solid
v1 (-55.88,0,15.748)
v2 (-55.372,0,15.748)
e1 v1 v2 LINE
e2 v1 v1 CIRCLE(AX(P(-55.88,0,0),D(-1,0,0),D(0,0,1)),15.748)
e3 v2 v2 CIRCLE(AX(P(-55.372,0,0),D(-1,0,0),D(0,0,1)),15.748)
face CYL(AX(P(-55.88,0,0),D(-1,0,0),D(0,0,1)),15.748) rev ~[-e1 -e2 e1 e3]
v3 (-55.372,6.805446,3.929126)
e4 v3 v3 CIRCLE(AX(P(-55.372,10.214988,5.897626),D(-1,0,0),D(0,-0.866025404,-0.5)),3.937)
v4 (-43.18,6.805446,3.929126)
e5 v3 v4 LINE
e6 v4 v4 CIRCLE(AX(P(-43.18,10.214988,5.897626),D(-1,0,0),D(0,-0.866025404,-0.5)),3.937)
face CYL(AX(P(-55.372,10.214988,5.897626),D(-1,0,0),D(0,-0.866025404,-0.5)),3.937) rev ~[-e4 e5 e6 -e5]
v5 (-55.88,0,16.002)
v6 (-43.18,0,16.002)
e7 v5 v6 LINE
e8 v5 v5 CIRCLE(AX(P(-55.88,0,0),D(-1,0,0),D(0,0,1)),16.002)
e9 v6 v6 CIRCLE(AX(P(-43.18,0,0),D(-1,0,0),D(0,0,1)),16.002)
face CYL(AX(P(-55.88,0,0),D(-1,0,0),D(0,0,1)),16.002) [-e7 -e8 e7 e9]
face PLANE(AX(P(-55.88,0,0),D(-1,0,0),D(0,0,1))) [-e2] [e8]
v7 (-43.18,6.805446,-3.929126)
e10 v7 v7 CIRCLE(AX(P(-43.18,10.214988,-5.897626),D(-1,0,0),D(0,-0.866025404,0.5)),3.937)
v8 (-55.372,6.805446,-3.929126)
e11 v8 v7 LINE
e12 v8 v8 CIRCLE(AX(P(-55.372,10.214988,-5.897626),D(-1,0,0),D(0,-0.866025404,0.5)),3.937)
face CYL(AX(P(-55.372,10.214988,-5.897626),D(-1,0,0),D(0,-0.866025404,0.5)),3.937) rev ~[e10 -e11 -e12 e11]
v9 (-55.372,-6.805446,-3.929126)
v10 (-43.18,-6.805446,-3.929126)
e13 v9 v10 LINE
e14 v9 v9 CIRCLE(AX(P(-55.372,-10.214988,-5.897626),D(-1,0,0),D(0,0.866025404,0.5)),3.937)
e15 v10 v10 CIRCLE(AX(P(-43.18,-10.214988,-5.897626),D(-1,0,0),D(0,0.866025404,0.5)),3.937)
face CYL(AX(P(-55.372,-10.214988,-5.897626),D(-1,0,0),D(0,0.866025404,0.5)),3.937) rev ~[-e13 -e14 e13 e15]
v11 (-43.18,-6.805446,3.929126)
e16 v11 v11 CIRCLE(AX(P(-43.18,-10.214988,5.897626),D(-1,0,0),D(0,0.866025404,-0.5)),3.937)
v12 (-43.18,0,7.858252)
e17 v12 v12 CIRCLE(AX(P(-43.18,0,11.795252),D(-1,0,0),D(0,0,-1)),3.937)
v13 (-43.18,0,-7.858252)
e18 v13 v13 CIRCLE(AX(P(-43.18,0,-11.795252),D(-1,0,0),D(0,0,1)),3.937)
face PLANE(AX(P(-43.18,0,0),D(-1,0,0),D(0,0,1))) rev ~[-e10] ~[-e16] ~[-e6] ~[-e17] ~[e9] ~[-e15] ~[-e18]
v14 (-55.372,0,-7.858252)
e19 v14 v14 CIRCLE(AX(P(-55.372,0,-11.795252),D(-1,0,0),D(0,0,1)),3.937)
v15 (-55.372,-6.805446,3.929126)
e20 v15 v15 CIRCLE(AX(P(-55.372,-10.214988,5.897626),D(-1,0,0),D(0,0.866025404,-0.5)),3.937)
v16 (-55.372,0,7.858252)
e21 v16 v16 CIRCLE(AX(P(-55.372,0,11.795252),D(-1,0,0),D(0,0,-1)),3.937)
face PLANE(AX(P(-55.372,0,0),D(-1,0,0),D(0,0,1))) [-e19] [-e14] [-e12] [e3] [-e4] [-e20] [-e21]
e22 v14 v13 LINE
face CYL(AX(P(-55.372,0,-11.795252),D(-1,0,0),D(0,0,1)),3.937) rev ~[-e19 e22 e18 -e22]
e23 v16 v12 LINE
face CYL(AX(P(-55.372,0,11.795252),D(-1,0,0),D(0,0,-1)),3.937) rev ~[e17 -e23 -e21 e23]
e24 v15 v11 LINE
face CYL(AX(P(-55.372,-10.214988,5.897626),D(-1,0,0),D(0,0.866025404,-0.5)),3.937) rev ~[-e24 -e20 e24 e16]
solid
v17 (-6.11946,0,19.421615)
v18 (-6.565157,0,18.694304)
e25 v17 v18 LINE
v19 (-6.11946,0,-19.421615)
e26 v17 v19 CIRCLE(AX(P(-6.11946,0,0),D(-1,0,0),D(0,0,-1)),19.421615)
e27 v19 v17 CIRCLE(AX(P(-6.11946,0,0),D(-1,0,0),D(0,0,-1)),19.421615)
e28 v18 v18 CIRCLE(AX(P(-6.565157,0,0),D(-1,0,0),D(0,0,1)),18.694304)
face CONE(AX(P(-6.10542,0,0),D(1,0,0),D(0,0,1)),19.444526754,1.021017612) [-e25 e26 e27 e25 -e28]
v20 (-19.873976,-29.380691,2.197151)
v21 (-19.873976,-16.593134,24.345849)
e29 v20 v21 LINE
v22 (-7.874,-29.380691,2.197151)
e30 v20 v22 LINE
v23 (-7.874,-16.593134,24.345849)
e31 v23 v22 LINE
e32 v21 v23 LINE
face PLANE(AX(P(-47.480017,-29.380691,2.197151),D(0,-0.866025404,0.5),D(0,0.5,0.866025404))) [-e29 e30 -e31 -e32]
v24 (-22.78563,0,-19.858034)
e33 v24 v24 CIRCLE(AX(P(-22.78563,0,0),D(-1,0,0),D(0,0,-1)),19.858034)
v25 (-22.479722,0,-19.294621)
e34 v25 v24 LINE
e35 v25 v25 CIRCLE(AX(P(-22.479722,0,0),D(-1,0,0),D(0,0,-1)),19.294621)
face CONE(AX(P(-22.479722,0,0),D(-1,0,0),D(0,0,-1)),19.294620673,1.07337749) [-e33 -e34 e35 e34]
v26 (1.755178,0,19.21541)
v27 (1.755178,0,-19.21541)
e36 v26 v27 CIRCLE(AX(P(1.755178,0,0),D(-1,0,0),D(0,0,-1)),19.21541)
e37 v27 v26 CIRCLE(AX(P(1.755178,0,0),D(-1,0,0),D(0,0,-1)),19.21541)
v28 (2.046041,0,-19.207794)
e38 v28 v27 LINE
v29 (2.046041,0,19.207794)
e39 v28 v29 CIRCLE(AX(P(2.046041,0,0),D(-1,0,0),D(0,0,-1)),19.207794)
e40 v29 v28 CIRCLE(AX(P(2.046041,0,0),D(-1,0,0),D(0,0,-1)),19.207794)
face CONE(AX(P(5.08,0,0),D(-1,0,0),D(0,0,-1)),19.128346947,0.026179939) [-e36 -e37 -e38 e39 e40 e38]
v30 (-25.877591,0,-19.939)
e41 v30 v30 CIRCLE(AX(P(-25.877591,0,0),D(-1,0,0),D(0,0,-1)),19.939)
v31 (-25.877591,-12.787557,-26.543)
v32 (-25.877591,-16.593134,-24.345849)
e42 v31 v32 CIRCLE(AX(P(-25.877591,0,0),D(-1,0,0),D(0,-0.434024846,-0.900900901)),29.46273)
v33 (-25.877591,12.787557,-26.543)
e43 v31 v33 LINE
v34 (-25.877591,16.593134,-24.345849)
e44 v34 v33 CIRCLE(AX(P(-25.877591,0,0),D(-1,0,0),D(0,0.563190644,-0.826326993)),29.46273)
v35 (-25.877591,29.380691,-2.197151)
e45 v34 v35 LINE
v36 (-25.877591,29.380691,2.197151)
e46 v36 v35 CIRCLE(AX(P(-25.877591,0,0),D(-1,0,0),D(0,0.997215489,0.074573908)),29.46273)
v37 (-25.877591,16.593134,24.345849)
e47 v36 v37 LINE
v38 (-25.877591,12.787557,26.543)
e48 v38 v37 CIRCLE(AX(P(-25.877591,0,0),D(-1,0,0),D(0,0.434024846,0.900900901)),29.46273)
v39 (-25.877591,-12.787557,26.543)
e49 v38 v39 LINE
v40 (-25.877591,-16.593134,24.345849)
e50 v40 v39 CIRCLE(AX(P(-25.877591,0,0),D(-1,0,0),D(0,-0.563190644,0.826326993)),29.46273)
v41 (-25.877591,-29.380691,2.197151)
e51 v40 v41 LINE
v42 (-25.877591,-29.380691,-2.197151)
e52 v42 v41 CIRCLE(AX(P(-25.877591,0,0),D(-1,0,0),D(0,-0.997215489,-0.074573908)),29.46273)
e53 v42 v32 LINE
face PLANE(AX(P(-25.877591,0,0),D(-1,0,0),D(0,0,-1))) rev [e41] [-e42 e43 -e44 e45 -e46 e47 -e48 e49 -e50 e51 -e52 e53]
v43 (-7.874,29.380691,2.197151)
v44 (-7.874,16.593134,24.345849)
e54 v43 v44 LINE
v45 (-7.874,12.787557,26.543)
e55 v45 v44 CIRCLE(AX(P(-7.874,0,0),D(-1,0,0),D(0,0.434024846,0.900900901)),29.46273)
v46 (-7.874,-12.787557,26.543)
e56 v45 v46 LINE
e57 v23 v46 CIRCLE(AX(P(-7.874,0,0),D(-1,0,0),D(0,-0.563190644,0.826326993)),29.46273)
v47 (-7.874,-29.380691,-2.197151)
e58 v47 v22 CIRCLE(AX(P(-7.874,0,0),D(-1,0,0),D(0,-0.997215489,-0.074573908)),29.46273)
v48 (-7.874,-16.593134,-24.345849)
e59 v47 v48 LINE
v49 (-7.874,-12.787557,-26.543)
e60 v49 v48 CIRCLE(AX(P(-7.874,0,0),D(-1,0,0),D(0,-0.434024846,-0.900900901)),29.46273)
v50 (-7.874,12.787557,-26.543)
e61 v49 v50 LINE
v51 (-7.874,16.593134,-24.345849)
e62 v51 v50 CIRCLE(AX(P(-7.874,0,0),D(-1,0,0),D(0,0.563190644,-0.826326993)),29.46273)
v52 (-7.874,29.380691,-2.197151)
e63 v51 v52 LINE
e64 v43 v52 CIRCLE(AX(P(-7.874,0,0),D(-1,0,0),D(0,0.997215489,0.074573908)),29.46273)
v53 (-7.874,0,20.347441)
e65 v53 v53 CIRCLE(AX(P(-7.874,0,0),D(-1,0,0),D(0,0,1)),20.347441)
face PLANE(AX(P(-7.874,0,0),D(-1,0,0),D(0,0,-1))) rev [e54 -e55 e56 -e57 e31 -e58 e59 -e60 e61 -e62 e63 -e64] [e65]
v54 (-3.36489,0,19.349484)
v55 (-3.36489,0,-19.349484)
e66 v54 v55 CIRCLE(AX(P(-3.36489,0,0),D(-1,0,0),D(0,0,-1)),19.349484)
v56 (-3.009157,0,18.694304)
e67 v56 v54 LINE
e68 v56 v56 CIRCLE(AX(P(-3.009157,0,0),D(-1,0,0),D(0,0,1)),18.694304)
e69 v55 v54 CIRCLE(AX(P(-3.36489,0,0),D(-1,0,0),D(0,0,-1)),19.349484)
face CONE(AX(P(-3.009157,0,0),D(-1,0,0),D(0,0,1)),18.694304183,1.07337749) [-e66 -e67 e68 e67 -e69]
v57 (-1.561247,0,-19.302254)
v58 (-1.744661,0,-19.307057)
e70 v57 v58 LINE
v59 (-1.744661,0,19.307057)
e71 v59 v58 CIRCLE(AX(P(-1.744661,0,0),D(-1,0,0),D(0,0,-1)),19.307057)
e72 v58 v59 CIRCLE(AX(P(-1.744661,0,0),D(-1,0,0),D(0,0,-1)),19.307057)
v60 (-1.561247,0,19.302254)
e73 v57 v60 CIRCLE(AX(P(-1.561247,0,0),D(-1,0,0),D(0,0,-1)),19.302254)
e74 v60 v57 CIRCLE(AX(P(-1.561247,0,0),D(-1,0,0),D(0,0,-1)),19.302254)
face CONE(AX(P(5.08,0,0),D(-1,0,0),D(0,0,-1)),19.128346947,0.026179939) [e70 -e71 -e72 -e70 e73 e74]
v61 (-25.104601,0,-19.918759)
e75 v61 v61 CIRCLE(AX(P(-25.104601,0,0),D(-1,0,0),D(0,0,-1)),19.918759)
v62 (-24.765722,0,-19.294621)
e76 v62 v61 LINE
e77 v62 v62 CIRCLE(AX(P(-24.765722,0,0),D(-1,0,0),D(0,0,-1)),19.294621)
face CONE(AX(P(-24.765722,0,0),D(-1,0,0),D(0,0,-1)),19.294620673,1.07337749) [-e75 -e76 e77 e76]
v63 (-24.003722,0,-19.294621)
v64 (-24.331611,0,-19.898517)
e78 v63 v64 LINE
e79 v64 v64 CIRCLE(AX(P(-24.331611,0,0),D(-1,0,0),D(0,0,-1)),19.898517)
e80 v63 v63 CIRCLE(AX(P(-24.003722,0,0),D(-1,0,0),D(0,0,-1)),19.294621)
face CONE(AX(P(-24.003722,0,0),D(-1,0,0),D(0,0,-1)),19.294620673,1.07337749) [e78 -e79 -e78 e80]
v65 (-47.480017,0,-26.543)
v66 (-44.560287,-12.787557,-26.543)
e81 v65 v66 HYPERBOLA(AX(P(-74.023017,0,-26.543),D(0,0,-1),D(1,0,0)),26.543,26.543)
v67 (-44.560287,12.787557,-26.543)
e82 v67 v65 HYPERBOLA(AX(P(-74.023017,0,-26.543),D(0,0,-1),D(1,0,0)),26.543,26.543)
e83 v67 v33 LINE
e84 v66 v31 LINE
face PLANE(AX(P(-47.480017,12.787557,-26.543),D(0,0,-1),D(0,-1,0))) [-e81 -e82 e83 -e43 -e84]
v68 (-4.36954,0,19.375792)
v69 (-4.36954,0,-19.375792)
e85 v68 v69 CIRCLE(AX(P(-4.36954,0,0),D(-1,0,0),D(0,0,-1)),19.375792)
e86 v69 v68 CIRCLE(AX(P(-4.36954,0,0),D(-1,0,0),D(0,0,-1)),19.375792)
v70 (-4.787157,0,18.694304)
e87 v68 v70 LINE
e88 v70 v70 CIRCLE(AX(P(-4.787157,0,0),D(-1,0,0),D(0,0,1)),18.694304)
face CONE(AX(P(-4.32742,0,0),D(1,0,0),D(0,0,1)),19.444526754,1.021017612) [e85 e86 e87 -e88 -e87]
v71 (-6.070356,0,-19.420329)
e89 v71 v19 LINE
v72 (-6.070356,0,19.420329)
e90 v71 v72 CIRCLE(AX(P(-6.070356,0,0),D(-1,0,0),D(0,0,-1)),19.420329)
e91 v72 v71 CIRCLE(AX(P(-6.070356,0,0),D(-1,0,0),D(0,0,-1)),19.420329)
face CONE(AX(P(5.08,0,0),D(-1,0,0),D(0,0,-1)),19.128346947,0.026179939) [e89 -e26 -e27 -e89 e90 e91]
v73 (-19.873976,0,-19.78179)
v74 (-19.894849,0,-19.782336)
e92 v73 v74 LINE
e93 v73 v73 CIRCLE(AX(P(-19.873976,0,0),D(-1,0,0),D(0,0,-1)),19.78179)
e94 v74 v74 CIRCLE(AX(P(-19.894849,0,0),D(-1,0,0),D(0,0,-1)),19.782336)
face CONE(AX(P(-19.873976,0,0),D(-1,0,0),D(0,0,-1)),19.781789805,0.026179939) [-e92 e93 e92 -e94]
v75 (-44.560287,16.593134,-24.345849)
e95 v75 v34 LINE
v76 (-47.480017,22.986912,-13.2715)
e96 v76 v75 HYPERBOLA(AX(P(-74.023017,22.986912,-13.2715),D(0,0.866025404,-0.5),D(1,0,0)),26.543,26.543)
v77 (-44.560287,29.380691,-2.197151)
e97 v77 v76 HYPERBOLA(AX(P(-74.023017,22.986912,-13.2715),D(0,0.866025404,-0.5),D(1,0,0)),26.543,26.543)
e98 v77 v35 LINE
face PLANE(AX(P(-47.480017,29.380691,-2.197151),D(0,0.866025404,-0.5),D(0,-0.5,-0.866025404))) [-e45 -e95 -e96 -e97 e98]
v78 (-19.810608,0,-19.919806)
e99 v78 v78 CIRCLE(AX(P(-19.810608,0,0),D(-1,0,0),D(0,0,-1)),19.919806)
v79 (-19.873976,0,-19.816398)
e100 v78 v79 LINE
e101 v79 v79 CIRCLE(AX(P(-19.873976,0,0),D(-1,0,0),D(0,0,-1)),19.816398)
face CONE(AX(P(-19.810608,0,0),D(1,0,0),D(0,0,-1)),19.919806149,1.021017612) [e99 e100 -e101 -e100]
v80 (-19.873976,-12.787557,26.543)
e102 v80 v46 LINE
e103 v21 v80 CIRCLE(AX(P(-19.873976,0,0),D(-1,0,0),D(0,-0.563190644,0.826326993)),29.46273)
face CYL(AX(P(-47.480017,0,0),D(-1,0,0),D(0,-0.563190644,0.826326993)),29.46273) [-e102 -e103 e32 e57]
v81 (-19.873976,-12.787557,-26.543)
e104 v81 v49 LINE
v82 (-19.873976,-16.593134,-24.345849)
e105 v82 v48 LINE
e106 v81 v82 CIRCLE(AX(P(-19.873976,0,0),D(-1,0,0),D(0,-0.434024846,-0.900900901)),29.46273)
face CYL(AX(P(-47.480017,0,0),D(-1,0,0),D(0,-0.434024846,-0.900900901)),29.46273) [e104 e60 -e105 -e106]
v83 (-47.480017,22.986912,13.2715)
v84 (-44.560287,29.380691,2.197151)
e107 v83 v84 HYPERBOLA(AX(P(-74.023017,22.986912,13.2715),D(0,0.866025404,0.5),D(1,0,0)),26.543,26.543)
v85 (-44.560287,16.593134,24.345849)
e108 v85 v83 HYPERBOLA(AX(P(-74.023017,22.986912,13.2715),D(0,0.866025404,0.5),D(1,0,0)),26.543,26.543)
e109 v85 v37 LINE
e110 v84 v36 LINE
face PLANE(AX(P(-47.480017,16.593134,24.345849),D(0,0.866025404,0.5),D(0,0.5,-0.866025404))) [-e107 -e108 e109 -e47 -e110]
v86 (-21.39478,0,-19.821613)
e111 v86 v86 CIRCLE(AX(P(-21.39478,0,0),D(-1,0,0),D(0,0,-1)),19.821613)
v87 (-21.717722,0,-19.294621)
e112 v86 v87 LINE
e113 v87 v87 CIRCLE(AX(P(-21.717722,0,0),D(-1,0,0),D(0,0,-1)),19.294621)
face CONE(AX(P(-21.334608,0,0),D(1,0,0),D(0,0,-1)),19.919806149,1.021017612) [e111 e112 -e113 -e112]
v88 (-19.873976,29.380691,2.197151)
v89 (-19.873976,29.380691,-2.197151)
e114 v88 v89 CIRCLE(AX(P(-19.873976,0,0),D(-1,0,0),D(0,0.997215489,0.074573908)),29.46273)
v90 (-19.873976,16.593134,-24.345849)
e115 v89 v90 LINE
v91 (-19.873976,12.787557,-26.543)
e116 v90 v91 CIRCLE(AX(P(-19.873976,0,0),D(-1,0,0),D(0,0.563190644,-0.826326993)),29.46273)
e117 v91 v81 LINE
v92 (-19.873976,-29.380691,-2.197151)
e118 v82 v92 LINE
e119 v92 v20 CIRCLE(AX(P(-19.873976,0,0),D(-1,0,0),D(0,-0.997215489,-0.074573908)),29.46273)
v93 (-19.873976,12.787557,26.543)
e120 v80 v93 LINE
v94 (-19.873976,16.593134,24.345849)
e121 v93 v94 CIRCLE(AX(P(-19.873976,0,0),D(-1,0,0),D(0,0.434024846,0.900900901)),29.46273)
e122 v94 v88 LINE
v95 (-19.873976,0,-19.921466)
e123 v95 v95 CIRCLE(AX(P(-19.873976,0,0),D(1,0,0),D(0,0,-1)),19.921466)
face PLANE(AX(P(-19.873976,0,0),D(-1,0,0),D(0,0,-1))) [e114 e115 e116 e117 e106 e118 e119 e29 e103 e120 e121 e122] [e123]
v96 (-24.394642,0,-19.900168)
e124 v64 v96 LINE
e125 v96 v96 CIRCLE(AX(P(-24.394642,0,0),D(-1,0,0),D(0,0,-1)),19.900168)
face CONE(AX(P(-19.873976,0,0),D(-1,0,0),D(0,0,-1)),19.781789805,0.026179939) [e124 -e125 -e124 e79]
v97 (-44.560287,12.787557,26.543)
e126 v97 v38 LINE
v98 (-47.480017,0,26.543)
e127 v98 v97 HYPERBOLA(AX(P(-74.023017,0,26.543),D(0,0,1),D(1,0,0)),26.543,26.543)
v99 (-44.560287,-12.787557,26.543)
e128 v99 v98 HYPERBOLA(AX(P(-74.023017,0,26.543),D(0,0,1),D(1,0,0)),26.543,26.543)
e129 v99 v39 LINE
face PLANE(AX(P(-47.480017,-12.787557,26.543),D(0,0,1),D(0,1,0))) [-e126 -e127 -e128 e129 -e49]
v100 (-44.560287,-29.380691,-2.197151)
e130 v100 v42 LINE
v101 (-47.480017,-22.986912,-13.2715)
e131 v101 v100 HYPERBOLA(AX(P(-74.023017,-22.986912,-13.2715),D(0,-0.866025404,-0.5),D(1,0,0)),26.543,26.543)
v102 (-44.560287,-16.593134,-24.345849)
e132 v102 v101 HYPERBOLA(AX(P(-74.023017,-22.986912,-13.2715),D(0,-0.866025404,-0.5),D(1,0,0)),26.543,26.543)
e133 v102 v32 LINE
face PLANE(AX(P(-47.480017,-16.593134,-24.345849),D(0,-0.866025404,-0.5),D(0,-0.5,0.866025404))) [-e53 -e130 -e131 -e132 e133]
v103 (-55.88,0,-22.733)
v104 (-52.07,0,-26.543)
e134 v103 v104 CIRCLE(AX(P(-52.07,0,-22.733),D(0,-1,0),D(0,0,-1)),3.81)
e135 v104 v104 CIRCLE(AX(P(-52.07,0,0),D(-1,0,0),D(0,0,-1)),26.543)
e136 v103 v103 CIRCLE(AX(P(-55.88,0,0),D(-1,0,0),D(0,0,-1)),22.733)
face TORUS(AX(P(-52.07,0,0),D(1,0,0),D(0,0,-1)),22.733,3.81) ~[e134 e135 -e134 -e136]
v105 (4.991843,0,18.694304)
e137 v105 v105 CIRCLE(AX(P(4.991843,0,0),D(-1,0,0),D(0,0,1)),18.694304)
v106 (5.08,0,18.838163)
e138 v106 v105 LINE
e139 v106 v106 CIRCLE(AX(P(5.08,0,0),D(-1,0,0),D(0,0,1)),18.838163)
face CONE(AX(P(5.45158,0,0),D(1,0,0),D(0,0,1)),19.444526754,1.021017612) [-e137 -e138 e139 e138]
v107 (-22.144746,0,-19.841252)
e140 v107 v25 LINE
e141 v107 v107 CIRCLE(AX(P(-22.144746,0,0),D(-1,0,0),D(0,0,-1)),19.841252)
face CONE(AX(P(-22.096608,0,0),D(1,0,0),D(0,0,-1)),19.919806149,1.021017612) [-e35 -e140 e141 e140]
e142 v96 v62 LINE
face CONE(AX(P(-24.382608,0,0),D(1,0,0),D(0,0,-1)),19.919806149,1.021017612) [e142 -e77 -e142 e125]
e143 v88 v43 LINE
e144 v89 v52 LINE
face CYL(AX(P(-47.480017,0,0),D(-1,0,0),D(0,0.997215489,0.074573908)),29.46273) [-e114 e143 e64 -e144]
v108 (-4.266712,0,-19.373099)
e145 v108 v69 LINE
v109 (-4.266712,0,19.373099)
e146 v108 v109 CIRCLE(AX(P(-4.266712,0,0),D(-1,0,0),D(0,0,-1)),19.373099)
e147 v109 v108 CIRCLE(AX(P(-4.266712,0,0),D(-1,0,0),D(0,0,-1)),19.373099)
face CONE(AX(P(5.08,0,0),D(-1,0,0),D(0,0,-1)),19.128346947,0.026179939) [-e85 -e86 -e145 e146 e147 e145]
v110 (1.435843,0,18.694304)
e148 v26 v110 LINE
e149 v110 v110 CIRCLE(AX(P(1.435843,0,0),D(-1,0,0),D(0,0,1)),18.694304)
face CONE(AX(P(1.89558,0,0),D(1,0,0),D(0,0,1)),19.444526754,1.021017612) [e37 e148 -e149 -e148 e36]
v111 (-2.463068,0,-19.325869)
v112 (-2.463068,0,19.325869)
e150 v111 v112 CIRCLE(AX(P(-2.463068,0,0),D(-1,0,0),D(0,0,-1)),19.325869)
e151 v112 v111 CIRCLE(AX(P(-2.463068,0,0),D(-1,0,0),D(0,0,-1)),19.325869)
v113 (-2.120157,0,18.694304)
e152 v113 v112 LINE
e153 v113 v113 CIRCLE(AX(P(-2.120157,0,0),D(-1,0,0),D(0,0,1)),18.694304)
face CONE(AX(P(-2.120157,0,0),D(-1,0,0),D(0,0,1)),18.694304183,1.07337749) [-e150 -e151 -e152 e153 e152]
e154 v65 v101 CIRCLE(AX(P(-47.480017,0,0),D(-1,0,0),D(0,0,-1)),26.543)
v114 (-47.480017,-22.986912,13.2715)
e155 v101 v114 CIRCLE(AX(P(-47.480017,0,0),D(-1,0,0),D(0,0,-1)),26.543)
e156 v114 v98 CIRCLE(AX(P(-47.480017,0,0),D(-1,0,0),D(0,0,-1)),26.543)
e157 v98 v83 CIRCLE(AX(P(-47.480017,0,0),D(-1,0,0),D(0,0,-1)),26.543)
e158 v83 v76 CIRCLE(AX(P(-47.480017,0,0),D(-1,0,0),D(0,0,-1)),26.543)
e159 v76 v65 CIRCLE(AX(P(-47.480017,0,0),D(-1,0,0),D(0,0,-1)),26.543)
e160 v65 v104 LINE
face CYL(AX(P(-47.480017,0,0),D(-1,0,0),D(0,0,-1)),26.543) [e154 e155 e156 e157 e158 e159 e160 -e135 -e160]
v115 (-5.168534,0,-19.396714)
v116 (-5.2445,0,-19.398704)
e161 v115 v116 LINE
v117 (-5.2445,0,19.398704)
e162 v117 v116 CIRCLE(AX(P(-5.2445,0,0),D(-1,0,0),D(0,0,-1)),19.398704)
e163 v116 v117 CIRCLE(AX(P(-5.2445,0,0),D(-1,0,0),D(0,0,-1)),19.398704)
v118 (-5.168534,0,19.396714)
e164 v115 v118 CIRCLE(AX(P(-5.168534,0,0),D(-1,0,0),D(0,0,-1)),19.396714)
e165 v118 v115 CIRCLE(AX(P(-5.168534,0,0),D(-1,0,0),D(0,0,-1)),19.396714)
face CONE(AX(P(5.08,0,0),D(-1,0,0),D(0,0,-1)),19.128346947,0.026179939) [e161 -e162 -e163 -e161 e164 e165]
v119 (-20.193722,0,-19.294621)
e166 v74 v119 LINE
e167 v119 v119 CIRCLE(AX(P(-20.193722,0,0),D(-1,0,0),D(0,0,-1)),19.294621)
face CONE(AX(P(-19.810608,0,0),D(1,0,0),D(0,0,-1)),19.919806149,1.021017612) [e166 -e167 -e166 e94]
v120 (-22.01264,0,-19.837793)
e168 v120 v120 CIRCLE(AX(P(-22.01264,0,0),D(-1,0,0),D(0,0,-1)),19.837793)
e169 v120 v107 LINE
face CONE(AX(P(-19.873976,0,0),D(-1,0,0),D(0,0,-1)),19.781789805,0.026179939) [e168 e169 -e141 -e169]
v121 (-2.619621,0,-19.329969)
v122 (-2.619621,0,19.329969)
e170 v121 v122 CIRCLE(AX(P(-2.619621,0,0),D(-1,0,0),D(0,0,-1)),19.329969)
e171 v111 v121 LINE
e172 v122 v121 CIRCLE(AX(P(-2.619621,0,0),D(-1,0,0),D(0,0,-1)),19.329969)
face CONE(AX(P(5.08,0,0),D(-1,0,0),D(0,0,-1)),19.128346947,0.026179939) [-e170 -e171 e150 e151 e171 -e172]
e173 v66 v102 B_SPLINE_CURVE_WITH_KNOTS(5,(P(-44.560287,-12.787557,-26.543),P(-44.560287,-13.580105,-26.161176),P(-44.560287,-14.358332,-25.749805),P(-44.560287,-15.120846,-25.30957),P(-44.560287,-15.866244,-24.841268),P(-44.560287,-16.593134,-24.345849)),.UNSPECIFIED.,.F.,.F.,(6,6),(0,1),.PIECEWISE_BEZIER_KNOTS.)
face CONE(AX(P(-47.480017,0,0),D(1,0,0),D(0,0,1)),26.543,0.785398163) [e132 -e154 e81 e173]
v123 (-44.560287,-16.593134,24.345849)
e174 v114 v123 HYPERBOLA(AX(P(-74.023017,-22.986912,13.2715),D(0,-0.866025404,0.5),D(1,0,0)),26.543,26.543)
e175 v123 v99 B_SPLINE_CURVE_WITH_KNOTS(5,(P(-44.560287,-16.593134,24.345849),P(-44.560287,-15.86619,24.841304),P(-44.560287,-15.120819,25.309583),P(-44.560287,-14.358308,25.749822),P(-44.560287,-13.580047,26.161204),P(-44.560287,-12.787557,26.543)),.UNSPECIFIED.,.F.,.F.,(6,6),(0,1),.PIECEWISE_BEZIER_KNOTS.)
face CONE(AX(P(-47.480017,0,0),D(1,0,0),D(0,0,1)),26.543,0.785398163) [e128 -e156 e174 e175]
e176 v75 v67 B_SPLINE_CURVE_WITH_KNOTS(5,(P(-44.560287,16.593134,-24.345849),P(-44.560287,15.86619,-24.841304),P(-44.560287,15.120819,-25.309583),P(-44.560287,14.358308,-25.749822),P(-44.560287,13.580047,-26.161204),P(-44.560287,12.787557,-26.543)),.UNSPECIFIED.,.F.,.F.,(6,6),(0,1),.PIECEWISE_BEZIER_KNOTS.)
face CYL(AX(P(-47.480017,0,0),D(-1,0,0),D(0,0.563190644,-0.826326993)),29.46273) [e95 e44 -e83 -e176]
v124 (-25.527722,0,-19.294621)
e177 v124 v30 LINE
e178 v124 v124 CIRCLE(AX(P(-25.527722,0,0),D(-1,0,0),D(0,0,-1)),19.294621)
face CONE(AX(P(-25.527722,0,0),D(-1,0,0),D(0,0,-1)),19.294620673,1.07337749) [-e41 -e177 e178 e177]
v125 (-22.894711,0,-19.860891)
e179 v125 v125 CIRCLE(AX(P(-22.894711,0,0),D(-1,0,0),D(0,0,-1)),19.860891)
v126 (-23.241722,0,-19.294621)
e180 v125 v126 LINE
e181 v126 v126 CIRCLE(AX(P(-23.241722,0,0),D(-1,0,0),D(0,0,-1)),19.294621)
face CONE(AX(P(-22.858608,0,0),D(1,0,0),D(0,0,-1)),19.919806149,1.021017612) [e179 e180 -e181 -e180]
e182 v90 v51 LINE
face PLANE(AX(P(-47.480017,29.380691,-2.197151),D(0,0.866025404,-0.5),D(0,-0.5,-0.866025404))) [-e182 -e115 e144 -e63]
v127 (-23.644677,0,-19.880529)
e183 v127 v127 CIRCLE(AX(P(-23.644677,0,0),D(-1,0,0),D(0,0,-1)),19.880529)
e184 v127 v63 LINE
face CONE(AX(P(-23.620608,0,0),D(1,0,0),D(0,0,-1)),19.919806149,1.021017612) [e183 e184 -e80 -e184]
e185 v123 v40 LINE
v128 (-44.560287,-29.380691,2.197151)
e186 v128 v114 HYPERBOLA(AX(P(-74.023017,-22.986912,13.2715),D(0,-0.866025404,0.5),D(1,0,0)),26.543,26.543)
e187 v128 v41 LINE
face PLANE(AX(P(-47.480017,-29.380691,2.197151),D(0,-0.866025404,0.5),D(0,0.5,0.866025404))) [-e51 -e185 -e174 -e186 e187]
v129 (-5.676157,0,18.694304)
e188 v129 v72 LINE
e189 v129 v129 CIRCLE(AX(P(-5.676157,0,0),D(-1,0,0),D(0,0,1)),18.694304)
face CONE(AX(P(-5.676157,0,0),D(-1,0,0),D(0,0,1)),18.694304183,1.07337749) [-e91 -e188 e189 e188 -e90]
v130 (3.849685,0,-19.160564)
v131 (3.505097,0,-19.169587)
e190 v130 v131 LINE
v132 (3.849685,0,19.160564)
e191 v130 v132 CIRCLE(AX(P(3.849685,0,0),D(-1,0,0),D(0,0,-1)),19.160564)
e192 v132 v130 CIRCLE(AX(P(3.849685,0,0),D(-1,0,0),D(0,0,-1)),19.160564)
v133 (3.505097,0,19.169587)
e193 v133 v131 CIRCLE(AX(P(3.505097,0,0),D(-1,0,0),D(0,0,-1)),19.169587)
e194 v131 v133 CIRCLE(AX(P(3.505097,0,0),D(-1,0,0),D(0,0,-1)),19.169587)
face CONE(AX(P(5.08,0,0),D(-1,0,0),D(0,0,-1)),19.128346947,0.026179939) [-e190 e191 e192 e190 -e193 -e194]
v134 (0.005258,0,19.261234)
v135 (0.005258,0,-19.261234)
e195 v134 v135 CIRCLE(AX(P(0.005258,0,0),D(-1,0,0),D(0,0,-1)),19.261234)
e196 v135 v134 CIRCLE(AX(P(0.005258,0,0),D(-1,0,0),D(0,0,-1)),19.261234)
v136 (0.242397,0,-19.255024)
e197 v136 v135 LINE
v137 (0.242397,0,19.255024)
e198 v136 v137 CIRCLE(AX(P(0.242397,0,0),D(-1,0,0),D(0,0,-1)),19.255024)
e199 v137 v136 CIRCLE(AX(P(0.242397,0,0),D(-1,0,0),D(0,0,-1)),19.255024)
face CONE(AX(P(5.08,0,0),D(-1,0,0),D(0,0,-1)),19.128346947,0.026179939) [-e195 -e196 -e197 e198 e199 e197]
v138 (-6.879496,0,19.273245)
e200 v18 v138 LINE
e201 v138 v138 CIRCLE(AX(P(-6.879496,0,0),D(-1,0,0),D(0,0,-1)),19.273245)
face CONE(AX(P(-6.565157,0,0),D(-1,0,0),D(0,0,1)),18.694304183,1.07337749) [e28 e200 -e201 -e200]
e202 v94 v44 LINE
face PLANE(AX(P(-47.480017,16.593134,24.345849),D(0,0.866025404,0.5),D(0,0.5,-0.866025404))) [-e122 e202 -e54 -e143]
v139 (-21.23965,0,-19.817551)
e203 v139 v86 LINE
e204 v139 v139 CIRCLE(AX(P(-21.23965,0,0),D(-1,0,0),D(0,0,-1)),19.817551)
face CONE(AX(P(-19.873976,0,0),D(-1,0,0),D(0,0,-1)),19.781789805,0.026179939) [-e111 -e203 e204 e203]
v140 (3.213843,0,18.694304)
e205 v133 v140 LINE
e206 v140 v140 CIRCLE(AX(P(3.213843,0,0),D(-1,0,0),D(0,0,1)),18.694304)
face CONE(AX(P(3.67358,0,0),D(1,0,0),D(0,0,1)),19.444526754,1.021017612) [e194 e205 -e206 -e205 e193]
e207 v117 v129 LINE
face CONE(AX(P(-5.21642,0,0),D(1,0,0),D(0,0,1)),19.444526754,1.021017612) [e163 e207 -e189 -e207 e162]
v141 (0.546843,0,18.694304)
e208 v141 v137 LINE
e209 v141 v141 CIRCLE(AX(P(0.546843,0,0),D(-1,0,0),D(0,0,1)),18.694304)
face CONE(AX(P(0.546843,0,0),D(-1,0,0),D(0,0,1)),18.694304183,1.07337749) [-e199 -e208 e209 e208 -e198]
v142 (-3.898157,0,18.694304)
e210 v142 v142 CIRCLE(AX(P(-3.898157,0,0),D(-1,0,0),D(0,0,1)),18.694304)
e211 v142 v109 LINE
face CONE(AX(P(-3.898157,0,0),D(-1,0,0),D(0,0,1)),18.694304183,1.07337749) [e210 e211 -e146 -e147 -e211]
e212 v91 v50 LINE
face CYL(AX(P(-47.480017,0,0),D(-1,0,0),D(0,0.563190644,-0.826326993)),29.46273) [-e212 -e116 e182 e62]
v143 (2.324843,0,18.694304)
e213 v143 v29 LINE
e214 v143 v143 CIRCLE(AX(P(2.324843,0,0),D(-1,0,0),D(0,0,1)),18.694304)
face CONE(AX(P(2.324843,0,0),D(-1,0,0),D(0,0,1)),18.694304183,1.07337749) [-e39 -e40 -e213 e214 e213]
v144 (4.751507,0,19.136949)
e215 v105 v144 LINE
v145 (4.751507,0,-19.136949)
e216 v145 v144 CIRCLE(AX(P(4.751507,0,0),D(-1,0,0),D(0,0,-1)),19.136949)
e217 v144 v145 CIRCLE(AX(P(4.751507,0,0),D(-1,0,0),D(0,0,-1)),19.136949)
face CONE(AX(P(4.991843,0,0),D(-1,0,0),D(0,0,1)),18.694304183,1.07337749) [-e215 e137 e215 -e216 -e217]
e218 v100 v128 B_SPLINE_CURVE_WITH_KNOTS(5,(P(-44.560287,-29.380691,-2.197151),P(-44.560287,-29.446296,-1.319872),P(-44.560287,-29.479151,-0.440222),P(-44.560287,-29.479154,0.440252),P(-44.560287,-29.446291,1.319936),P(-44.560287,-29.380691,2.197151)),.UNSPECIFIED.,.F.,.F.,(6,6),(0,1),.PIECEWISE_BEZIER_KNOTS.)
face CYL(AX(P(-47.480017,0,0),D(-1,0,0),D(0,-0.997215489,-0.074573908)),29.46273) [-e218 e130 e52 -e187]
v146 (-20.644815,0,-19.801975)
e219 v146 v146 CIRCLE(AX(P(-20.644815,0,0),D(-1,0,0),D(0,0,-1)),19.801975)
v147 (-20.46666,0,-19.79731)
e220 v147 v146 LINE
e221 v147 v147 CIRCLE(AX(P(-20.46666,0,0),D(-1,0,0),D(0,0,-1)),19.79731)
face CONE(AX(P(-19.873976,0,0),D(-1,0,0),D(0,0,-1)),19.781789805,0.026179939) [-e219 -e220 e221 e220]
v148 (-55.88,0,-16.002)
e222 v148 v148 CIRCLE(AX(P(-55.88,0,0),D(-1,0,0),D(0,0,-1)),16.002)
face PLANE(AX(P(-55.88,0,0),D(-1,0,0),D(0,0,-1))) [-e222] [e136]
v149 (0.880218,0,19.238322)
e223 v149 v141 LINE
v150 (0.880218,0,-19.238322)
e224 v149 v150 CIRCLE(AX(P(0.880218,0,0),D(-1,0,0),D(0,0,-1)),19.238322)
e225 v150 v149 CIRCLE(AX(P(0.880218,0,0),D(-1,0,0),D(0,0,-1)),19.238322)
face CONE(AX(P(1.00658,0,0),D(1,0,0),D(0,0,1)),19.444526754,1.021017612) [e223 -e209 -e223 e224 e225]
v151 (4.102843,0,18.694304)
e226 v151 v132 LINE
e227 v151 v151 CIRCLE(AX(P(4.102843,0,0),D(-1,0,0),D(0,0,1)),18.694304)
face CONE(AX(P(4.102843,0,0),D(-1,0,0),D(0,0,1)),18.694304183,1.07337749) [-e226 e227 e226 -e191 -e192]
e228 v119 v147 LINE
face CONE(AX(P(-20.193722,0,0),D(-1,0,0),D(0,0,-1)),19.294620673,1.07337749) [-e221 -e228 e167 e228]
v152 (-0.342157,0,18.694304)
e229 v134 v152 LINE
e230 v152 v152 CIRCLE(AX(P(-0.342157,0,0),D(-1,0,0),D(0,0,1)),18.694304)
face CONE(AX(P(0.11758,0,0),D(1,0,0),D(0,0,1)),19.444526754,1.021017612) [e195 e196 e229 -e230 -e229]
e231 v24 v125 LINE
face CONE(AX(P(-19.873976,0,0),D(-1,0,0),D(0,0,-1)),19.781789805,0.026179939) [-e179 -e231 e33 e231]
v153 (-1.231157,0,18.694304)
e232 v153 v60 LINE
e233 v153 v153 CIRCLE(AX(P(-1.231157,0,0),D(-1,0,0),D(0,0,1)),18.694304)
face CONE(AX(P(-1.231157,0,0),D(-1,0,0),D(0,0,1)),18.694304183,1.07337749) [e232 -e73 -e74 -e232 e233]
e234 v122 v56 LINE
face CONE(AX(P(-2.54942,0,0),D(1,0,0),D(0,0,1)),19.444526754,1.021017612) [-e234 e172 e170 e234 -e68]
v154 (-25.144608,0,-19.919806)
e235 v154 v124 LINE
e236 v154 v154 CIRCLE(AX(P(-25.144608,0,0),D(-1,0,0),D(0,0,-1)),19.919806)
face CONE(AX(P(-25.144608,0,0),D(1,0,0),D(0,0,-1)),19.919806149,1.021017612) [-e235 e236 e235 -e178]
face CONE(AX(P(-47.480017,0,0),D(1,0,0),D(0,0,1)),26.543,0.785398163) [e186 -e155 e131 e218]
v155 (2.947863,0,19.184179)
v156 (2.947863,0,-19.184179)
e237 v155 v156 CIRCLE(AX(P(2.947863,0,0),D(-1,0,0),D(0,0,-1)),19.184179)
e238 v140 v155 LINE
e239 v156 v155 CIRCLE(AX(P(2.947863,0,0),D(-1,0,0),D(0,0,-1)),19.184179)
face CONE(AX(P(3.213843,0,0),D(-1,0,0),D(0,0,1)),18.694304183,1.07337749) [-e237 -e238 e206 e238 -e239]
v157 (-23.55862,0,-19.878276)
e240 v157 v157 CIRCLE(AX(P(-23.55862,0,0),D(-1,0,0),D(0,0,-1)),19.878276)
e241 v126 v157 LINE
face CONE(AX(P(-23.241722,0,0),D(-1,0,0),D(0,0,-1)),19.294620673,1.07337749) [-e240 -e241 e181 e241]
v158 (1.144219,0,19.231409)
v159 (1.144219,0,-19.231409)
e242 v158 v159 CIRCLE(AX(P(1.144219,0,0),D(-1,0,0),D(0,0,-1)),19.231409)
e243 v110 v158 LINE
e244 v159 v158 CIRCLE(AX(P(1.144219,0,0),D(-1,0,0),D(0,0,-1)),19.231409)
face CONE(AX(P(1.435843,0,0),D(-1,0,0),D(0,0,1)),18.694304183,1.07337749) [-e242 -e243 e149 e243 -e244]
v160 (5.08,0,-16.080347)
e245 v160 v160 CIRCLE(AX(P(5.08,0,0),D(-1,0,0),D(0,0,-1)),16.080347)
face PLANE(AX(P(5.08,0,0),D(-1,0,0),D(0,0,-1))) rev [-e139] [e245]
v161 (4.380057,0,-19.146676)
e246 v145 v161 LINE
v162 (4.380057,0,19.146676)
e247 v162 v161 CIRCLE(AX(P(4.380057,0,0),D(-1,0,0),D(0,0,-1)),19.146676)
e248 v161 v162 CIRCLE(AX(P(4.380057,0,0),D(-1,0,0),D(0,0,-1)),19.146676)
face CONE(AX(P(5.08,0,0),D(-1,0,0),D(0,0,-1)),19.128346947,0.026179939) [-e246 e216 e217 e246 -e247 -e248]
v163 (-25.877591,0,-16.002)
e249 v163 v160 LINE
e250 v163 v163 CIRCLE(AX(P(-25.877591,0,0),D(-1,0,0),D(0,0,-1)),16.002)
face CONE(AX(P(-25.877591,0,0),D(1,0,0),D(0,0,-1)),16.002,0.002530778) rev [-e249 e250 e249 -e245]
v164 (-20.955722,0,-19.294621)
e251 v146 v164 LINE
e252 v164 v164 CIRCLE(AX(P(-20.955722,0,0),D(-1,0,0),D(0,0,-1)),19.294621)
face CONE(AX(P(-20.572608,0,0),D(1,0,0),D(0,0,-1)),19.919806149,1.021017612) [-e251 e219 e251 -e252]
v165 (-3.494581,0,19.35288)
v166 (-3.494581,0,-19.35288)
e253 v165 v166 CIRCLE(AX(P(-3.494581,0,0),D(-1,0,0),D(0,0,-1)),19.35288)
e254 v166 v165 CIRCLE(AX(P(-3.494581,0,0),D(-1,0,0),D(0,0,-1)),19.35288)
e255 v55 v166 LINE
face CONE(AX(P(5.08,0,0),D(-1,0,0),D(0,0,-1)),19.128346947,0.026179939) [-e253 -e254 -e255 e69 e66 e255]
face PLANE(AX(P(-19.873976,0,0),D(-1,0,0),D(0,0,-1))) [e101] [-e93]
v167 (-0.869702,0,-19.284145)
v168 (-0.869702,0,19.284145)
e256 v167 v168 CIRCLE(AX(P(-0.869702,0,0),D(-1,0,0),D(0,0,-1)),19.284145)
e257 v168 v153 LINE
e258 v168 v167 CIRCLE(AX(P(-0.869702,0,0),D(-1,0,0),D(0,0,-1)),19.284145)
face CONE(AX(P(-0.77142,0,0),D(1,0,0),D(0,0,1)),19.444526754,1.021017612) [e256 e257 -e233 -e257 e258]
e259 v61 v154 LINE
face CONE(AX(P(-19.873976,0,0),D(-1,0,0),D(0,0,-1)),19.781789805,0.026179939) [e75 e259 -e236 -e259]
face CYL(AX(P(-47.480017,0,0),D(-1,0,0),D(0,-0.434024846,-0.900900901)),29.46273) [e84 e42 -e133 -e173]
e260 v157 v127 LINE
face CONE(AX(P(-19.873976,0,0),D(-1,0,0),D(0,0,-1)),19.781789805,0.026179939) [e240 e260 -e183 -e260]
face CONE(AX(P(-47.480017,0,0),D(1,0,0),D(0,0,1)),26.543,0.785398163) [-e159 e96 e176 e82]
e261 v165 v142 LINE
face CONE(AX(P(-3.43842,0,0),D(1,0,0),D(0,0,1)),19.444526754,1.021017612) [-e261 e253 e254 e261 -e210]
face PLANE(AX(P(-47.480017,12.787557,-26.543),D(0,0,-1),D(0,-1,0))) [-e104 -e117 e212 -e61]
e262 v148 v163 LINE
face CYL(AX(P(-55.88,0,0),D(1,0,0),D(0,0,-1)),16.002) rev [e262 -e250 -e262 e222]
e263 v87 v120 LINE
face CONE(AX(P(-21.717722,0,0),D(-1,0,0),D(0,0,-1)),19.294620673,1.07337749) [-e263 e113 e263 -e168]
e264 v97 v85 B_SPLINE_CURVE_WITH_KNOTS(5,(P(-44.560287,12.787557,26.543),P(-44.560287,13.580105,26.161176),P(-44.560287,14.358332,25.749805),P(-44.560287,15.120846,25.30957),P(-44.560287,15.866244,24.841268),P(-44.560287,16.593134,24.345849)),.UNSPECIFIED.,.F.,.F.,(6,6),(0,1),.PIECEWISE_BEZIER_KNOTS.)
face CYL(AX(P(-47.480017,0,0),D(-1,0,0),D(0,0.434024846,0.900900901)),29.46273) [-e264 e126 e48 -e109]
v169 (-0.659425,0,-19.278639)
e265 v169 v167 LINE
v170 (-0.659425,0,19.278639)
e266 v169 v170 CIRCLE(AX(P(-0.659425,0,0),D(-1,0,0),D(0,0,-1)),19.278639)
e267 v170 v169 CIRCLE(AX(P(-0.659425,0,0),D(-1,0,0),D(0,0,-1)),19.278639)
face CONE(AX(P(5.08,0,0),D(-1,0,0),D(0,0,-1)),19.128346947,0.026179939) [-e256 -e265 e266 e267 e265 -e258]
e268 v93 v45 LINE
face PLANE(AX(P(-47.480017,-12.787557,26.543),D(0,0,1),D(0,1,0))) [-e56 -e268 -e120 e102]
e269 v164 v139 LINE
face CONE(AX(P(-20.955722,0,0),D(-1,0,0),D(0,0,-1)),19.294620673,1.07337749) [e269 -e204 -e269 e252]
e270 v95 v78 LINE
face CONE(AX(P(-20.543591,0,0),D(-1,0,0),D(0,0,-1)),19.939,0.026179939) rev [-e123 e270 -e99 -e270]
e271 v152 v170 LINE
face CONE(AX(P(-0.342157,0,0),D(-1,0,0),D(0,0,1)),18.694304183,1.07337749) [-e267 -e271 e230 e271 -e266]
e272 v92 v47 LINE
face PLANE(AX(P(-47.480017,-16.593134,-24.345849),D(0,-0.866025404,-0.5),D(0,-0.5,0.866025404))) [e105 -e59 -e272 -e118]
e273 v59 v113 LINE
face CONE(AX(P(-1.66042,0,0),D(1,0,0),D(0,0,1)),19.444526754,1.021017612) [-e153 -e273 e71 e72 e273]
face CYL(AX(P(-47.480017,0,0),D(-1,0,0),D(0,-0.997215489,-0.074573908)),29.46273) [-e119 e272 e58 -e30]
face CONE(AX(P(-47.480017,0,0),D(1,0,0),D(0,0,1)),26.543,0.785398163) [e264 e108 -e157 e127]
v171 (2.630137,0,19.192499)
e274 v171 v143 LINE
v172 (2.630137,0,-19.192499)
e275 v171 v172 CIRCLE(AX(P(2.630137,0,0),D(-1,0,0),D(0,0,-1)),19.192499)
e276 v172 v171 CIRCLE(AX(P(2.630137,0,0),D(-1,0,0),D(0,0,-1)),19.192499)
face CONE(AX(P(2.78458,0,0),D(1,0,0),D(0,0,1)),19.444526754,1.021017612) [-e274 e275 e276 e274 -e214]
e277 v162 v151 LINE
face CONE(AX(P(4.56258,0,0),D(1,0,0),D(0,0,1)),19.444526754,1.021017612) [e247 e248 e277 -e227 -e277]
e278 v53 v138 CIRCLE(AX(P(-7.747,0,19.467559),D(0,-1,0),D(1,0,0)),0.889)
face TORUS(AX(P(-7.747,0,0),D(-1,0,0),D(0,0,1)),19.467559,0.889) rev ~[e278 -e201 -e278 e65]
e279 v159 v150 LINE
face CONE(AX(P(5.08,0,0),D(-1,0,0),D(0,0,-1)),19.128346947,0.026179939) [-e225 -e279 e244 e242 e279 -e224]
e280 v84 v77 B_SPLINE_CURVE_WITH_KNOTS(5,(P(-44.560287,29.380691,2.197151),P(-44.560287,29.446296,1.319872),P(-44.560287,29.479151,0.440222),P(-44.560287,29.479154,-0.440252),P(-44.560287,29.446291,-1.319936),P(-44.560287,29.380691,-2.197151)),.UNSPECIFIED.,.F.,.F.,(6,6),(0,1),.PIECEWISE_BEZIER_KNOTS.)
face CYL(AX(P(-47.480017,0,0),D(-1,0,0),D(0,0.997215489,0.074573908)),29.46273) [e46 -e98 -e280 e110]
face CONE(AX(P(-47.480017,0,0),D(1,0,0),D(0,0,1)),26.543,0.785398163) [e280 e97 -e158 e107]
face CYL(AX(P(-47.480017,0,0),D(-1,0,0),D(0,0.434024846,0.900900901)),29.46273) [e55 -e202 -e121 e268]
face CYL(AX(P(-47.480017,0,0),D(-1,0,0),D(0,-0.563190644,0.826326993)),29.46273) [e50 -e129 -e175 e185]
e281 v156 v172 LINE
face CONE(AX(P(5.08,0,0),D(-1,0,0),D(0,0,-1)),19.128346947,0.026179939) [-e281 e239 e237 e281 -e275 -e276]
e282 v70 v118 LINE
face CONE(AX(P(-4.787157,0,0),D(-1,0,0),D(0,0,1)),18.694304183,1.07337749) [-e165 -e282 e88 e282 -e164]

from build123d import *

# Parameters (mm, degrees)
SKETCH12_OUTSIDE_W = 140.582
SKETCH12_OUTSIDE_H = 140.582
CUT_EXTRUDE2_DEPTH = 53.5600168
FILLET4_R          = 3.81
SKETCH19_OUTSIDE_W = 83.088
SKETCH19_OUTSIDE_H = 88.928
SKETCH19_OUTSIDE_R = 26.543
CUT_EXTRUDE3_DEPTH = 3.99796
CUT_EXTRUDE3_DRAFT = -45
CHAMFER1_SIZE      = 0.260919487
CHAMFER1_SIZE2     = 0.254
SKETCH21_R         = 16.002
PLUG_DEPTH         = 12.7
SKETCH22_R         = 15.748
CUT_EXTRUDE4_DEPTH = 0.508
SKETCH27_R         = 3.937
PLUGHOLES_DEPTH    = 61.452
CIRPATTERN1_COUNT  = 6
LPATTERN1_COUNT    = 8
LPATTERN1_PITCH    = 0.762
LPATTERN2_COUNT    = 15
LPATTERN2_PITCH    = 0.889
SKETCH32_R         = 0.889


with BuildPart() as part:
    # Sketch10 → Revolve2 (revolve)
    with BuildSketch(Plane.XY, mode=Mode.PRIVATE) as revolve2_sk:
        Polygon((-55.88, 16.002), (-25.87759112, 16.002), (5.08, 16.080346947), (5.08, 19.128346947), (-7.874, 19.467559375), (-7.874, 53.086), (-19.873976, 53.086), (-19.873976, 19.781789805), (-25.87759112, 19.939), (-25.87759112, 53.086), (-47.4800168, 53.086), (-47.4800168, 26.543), (-55.88, 26.543), align=None)
    revolve(revolve2_sk.sketch.rotate(Axis((0, 0, 0), (-1, 0, 0)), 90), axis=Axis((0, 0, 0), (-1, 0, 0)))  # turned: the seam where the file's is

    # Sketch12 outside → Cut-Extrude2 (cut, through all)
    with BuildSketch(Plane.ZY.offset(47.4800168)):
        Rectangle(SKETCH12_OUTSIDE_W, SKETCH12_OUTSIDE_H)
        with BuildLine():
            Line((-2.19715092, 29.380690715), (-24.34584908, 16.59313387))
            ThreePointArc((-24.34584908, 16.59313387), (-25.515472645, 14.731365), (-26.543, 12.787556845))
            Line((-26.543, 12.787556845), (-26.543, -12.787556845))
            ThreePointArc((-26.543, -12.787556845), (-25.515472645, -14.731365), (-24.34584908, -16.59313387))
            Line((-24.34584908, -16.59313387), (-2.19715092, -29.380690715))
            ThreePointArc((-2.19715092, -29.380690715), (0, -29.46273), (2.19715092, -29.380690715))
            Line((2.19715092, -29.380690715), (24.34584908, -16.59313387))
            ThreePointArc((24.34584908, -16.59313387), (25.515472645, -14.731365), (26.543, -12.787556845))
            Line((26.543, -12.787556845), (26.543, 12.787556845))
            ThreePointArc((26.543, 12.787556845), (25.515472645, 14.731365), (24.34584908, 16.59313387))
            Line((24.34584908, 16.59313387), (2.19715092, 29.380690715))
            ThreePointArc((2.19715092, 29.380690715), (0, 29.46273), (-2.19715092, 29.380690715))
        make_face(mode=Mode.SUBTRACT)
    extrude(amount=-CUT_EXTRUDE2_DEPTH, mode=Mode.SUBTRACT)

    # Fillet4
    fillet4_edges = [part.edges().sort_by_distance(p)[0] for p in [
        (-55.88, 0, 26.543),
    ]]
    fillet(fillet4_edges, radius=FILLET4_R)


with BuildPart() as cut_extrude3_tool:
    # Sketch19 outside → Cut-Extrude3 (with draft: the straight prism first)
    with BuildSketch(Plane.ZY.offset(47.4800168)):
        Rectangle(SKETCH19_OUTSIDE_W, SKETCH19_OUTSIDE_H)
        Circle(SKETCH19_OUTSIDE_R, mode=Mode.SUBTRACT)
    extrude(amount=-CUT_EXTRUDE3_DEPTH)
    # Cut-Extrude3: the draft: its side faces are tilted about the plane it starts from
    cut_extrude3_sides = [cut_extrude3_tool.faces().sort_by_distance(p)[0] for p in [
        (-45.4810368, -44.464, 0),
        (-45.4810368, 0, 41.544),
        (-45.4810368, 44.464, 0),
        (-45.4810368, 0, -41.544),
        (-45.4810368, 0, -26.543),
    ]]
    draft(cut_extrude3_sides, Plane.ZY.offset(47.4800168), CUT_EXTRUDE3_DRAFT)


with BuildPart() as part_1:
    add(part.part)

    # Cut-Extrude3: cut by cut_extrude3_tool
    add(cut_extrude3_tool.part, mode=Mode.SUBTRACT)

    # Chamfer1
    chamfer1_edges = [part_1.edges().sort_by_distance(p)[0] for p in [
        (5.08, 0, 19.128346947),
    ]]
    chamfer1_side = [part_1.faces().sort_by_distance(p)[0] for p in [
        (5.08, 0, 16.621378301),
    ]]
    chamfer(chamfer1_edges, length=CHAMFER1_SIZE, length2=CHAMFER1_SIZE2, reference=chamfer1_side[0])

    # Sketch29 → Cut-Revolve1 (revolve, cut)
    with BuildSketch(Plane.XY, mode=Mode.PRIVATE) as cut_revolve1_sk:
        Polygon((-25.87759112, 19.939), (-25.144607539, 19.919806149), (-25.527721692, 19.294620673), align=None)
    cut_revolve1 = revolve(cut_revolve1_sk.sketch.rotate(Axis((0, 0, 0), (-1, 0, 0)), 90), axis=Axis((0, 0, 0), (-1, 0, 0)), mode=Mode.SUBTRACT)  # turned: the seam where the file's is

    # LPattern1: Cut-Revolve1 ×8
    with Locations(*[(i * LPATTERN1_PITCH, 0, 0) for i in range(1, LPATTERN1_COUNT)]):
        add(cut_revolve1, mode=Mode.SUBTRACT)

    # Sketch30 → Cut-Revolve2 (revolve, cut)
    with BuildSketch(Plane.XY, mode=Mode.PRIVATE) as cut_revolve2_sk:
        Polygon((-7.874, 19.467559375), (-6.994419703, 19.444526754), (-7.454156686, 18.694304183), align=None)
    cut_revolve2 = revolve(cut_revolve2_sk.sketch.rotate(Axis((0, 0, 0), (-1, 0, 0)), 270), axis=Axis((0, 0, 0), (-1, 0, 0)), mode=Mode.SUBTRACT)  # turned: the seam where the file's is

    # LPattern2: Cut-Revolve2 ×15
    with Locations(*[(i * LPATTERN2_PITCH, 0, 0) for i in range(1, LPATTERN2_COUNT)]):
        add(cut_revolve2, mode=Mode.SUBTRACT)

    # Sketch32 → Cut-Revolve3 (revolve, cut)
    with BuildSketch(Plane.XY, mode=Mode.PRIVATE) as cut_revolve3_sk:
        with Locations((-7.747, 19.467559375)):
            Circle(SKETCH32_R)
    revolve(cut_revolve3_sk.sketch.rotate(Axis((0, 0, 0), (-1, 0, 0)), 270), axis=Axis((0, 0, 0), (-1, 0, 0)), mode=Mode.SUBTRACT)  # turned: the seam where the file's is


with BuildPart() as body_2:
    # Sketch21 → plug (new body)
    with BuildSketch(Plane.ZY.offset(55.88)):
        Circle(SKETCH21_R)
    extrude(amount=-PLUG_DEPTH)

    # Sketch22 → Cut-Extrude4 (cut)
    with BuildSketch(Plane.ZY.offset(55.88)):
        Circle(SKETCH22_R)
    extrude(amount=-CUT_EXTRUDE4_DEPTH, mode=Mode.SUBTRACT)

    # Sketch27 → plugholes (cut, through all)
    with BuildSketch(Plane.ZY.offset(55.372)):
        with Locations((-11.795252, 0)):
            Circle(SKETCH27_R)
    plugholes = extrude(amount=-PLUGHOLES_DEPTH, mode=Mode.SUBTRACT)

    # CirPattern1: plugholes ×6 about axis
    cirpattern1_axis = Axis((0, 0, 0), (1, 0, 0))
    for i in range(1, CIRPATTERN1_COUNT):
        add(plugholes.rotate(cirpattern1_axis, i * 360 / CIRPATTERN1_COUNT), mode=Mode.SUBTRACT)


solid = Compound([part_1.part, body_2.part])
